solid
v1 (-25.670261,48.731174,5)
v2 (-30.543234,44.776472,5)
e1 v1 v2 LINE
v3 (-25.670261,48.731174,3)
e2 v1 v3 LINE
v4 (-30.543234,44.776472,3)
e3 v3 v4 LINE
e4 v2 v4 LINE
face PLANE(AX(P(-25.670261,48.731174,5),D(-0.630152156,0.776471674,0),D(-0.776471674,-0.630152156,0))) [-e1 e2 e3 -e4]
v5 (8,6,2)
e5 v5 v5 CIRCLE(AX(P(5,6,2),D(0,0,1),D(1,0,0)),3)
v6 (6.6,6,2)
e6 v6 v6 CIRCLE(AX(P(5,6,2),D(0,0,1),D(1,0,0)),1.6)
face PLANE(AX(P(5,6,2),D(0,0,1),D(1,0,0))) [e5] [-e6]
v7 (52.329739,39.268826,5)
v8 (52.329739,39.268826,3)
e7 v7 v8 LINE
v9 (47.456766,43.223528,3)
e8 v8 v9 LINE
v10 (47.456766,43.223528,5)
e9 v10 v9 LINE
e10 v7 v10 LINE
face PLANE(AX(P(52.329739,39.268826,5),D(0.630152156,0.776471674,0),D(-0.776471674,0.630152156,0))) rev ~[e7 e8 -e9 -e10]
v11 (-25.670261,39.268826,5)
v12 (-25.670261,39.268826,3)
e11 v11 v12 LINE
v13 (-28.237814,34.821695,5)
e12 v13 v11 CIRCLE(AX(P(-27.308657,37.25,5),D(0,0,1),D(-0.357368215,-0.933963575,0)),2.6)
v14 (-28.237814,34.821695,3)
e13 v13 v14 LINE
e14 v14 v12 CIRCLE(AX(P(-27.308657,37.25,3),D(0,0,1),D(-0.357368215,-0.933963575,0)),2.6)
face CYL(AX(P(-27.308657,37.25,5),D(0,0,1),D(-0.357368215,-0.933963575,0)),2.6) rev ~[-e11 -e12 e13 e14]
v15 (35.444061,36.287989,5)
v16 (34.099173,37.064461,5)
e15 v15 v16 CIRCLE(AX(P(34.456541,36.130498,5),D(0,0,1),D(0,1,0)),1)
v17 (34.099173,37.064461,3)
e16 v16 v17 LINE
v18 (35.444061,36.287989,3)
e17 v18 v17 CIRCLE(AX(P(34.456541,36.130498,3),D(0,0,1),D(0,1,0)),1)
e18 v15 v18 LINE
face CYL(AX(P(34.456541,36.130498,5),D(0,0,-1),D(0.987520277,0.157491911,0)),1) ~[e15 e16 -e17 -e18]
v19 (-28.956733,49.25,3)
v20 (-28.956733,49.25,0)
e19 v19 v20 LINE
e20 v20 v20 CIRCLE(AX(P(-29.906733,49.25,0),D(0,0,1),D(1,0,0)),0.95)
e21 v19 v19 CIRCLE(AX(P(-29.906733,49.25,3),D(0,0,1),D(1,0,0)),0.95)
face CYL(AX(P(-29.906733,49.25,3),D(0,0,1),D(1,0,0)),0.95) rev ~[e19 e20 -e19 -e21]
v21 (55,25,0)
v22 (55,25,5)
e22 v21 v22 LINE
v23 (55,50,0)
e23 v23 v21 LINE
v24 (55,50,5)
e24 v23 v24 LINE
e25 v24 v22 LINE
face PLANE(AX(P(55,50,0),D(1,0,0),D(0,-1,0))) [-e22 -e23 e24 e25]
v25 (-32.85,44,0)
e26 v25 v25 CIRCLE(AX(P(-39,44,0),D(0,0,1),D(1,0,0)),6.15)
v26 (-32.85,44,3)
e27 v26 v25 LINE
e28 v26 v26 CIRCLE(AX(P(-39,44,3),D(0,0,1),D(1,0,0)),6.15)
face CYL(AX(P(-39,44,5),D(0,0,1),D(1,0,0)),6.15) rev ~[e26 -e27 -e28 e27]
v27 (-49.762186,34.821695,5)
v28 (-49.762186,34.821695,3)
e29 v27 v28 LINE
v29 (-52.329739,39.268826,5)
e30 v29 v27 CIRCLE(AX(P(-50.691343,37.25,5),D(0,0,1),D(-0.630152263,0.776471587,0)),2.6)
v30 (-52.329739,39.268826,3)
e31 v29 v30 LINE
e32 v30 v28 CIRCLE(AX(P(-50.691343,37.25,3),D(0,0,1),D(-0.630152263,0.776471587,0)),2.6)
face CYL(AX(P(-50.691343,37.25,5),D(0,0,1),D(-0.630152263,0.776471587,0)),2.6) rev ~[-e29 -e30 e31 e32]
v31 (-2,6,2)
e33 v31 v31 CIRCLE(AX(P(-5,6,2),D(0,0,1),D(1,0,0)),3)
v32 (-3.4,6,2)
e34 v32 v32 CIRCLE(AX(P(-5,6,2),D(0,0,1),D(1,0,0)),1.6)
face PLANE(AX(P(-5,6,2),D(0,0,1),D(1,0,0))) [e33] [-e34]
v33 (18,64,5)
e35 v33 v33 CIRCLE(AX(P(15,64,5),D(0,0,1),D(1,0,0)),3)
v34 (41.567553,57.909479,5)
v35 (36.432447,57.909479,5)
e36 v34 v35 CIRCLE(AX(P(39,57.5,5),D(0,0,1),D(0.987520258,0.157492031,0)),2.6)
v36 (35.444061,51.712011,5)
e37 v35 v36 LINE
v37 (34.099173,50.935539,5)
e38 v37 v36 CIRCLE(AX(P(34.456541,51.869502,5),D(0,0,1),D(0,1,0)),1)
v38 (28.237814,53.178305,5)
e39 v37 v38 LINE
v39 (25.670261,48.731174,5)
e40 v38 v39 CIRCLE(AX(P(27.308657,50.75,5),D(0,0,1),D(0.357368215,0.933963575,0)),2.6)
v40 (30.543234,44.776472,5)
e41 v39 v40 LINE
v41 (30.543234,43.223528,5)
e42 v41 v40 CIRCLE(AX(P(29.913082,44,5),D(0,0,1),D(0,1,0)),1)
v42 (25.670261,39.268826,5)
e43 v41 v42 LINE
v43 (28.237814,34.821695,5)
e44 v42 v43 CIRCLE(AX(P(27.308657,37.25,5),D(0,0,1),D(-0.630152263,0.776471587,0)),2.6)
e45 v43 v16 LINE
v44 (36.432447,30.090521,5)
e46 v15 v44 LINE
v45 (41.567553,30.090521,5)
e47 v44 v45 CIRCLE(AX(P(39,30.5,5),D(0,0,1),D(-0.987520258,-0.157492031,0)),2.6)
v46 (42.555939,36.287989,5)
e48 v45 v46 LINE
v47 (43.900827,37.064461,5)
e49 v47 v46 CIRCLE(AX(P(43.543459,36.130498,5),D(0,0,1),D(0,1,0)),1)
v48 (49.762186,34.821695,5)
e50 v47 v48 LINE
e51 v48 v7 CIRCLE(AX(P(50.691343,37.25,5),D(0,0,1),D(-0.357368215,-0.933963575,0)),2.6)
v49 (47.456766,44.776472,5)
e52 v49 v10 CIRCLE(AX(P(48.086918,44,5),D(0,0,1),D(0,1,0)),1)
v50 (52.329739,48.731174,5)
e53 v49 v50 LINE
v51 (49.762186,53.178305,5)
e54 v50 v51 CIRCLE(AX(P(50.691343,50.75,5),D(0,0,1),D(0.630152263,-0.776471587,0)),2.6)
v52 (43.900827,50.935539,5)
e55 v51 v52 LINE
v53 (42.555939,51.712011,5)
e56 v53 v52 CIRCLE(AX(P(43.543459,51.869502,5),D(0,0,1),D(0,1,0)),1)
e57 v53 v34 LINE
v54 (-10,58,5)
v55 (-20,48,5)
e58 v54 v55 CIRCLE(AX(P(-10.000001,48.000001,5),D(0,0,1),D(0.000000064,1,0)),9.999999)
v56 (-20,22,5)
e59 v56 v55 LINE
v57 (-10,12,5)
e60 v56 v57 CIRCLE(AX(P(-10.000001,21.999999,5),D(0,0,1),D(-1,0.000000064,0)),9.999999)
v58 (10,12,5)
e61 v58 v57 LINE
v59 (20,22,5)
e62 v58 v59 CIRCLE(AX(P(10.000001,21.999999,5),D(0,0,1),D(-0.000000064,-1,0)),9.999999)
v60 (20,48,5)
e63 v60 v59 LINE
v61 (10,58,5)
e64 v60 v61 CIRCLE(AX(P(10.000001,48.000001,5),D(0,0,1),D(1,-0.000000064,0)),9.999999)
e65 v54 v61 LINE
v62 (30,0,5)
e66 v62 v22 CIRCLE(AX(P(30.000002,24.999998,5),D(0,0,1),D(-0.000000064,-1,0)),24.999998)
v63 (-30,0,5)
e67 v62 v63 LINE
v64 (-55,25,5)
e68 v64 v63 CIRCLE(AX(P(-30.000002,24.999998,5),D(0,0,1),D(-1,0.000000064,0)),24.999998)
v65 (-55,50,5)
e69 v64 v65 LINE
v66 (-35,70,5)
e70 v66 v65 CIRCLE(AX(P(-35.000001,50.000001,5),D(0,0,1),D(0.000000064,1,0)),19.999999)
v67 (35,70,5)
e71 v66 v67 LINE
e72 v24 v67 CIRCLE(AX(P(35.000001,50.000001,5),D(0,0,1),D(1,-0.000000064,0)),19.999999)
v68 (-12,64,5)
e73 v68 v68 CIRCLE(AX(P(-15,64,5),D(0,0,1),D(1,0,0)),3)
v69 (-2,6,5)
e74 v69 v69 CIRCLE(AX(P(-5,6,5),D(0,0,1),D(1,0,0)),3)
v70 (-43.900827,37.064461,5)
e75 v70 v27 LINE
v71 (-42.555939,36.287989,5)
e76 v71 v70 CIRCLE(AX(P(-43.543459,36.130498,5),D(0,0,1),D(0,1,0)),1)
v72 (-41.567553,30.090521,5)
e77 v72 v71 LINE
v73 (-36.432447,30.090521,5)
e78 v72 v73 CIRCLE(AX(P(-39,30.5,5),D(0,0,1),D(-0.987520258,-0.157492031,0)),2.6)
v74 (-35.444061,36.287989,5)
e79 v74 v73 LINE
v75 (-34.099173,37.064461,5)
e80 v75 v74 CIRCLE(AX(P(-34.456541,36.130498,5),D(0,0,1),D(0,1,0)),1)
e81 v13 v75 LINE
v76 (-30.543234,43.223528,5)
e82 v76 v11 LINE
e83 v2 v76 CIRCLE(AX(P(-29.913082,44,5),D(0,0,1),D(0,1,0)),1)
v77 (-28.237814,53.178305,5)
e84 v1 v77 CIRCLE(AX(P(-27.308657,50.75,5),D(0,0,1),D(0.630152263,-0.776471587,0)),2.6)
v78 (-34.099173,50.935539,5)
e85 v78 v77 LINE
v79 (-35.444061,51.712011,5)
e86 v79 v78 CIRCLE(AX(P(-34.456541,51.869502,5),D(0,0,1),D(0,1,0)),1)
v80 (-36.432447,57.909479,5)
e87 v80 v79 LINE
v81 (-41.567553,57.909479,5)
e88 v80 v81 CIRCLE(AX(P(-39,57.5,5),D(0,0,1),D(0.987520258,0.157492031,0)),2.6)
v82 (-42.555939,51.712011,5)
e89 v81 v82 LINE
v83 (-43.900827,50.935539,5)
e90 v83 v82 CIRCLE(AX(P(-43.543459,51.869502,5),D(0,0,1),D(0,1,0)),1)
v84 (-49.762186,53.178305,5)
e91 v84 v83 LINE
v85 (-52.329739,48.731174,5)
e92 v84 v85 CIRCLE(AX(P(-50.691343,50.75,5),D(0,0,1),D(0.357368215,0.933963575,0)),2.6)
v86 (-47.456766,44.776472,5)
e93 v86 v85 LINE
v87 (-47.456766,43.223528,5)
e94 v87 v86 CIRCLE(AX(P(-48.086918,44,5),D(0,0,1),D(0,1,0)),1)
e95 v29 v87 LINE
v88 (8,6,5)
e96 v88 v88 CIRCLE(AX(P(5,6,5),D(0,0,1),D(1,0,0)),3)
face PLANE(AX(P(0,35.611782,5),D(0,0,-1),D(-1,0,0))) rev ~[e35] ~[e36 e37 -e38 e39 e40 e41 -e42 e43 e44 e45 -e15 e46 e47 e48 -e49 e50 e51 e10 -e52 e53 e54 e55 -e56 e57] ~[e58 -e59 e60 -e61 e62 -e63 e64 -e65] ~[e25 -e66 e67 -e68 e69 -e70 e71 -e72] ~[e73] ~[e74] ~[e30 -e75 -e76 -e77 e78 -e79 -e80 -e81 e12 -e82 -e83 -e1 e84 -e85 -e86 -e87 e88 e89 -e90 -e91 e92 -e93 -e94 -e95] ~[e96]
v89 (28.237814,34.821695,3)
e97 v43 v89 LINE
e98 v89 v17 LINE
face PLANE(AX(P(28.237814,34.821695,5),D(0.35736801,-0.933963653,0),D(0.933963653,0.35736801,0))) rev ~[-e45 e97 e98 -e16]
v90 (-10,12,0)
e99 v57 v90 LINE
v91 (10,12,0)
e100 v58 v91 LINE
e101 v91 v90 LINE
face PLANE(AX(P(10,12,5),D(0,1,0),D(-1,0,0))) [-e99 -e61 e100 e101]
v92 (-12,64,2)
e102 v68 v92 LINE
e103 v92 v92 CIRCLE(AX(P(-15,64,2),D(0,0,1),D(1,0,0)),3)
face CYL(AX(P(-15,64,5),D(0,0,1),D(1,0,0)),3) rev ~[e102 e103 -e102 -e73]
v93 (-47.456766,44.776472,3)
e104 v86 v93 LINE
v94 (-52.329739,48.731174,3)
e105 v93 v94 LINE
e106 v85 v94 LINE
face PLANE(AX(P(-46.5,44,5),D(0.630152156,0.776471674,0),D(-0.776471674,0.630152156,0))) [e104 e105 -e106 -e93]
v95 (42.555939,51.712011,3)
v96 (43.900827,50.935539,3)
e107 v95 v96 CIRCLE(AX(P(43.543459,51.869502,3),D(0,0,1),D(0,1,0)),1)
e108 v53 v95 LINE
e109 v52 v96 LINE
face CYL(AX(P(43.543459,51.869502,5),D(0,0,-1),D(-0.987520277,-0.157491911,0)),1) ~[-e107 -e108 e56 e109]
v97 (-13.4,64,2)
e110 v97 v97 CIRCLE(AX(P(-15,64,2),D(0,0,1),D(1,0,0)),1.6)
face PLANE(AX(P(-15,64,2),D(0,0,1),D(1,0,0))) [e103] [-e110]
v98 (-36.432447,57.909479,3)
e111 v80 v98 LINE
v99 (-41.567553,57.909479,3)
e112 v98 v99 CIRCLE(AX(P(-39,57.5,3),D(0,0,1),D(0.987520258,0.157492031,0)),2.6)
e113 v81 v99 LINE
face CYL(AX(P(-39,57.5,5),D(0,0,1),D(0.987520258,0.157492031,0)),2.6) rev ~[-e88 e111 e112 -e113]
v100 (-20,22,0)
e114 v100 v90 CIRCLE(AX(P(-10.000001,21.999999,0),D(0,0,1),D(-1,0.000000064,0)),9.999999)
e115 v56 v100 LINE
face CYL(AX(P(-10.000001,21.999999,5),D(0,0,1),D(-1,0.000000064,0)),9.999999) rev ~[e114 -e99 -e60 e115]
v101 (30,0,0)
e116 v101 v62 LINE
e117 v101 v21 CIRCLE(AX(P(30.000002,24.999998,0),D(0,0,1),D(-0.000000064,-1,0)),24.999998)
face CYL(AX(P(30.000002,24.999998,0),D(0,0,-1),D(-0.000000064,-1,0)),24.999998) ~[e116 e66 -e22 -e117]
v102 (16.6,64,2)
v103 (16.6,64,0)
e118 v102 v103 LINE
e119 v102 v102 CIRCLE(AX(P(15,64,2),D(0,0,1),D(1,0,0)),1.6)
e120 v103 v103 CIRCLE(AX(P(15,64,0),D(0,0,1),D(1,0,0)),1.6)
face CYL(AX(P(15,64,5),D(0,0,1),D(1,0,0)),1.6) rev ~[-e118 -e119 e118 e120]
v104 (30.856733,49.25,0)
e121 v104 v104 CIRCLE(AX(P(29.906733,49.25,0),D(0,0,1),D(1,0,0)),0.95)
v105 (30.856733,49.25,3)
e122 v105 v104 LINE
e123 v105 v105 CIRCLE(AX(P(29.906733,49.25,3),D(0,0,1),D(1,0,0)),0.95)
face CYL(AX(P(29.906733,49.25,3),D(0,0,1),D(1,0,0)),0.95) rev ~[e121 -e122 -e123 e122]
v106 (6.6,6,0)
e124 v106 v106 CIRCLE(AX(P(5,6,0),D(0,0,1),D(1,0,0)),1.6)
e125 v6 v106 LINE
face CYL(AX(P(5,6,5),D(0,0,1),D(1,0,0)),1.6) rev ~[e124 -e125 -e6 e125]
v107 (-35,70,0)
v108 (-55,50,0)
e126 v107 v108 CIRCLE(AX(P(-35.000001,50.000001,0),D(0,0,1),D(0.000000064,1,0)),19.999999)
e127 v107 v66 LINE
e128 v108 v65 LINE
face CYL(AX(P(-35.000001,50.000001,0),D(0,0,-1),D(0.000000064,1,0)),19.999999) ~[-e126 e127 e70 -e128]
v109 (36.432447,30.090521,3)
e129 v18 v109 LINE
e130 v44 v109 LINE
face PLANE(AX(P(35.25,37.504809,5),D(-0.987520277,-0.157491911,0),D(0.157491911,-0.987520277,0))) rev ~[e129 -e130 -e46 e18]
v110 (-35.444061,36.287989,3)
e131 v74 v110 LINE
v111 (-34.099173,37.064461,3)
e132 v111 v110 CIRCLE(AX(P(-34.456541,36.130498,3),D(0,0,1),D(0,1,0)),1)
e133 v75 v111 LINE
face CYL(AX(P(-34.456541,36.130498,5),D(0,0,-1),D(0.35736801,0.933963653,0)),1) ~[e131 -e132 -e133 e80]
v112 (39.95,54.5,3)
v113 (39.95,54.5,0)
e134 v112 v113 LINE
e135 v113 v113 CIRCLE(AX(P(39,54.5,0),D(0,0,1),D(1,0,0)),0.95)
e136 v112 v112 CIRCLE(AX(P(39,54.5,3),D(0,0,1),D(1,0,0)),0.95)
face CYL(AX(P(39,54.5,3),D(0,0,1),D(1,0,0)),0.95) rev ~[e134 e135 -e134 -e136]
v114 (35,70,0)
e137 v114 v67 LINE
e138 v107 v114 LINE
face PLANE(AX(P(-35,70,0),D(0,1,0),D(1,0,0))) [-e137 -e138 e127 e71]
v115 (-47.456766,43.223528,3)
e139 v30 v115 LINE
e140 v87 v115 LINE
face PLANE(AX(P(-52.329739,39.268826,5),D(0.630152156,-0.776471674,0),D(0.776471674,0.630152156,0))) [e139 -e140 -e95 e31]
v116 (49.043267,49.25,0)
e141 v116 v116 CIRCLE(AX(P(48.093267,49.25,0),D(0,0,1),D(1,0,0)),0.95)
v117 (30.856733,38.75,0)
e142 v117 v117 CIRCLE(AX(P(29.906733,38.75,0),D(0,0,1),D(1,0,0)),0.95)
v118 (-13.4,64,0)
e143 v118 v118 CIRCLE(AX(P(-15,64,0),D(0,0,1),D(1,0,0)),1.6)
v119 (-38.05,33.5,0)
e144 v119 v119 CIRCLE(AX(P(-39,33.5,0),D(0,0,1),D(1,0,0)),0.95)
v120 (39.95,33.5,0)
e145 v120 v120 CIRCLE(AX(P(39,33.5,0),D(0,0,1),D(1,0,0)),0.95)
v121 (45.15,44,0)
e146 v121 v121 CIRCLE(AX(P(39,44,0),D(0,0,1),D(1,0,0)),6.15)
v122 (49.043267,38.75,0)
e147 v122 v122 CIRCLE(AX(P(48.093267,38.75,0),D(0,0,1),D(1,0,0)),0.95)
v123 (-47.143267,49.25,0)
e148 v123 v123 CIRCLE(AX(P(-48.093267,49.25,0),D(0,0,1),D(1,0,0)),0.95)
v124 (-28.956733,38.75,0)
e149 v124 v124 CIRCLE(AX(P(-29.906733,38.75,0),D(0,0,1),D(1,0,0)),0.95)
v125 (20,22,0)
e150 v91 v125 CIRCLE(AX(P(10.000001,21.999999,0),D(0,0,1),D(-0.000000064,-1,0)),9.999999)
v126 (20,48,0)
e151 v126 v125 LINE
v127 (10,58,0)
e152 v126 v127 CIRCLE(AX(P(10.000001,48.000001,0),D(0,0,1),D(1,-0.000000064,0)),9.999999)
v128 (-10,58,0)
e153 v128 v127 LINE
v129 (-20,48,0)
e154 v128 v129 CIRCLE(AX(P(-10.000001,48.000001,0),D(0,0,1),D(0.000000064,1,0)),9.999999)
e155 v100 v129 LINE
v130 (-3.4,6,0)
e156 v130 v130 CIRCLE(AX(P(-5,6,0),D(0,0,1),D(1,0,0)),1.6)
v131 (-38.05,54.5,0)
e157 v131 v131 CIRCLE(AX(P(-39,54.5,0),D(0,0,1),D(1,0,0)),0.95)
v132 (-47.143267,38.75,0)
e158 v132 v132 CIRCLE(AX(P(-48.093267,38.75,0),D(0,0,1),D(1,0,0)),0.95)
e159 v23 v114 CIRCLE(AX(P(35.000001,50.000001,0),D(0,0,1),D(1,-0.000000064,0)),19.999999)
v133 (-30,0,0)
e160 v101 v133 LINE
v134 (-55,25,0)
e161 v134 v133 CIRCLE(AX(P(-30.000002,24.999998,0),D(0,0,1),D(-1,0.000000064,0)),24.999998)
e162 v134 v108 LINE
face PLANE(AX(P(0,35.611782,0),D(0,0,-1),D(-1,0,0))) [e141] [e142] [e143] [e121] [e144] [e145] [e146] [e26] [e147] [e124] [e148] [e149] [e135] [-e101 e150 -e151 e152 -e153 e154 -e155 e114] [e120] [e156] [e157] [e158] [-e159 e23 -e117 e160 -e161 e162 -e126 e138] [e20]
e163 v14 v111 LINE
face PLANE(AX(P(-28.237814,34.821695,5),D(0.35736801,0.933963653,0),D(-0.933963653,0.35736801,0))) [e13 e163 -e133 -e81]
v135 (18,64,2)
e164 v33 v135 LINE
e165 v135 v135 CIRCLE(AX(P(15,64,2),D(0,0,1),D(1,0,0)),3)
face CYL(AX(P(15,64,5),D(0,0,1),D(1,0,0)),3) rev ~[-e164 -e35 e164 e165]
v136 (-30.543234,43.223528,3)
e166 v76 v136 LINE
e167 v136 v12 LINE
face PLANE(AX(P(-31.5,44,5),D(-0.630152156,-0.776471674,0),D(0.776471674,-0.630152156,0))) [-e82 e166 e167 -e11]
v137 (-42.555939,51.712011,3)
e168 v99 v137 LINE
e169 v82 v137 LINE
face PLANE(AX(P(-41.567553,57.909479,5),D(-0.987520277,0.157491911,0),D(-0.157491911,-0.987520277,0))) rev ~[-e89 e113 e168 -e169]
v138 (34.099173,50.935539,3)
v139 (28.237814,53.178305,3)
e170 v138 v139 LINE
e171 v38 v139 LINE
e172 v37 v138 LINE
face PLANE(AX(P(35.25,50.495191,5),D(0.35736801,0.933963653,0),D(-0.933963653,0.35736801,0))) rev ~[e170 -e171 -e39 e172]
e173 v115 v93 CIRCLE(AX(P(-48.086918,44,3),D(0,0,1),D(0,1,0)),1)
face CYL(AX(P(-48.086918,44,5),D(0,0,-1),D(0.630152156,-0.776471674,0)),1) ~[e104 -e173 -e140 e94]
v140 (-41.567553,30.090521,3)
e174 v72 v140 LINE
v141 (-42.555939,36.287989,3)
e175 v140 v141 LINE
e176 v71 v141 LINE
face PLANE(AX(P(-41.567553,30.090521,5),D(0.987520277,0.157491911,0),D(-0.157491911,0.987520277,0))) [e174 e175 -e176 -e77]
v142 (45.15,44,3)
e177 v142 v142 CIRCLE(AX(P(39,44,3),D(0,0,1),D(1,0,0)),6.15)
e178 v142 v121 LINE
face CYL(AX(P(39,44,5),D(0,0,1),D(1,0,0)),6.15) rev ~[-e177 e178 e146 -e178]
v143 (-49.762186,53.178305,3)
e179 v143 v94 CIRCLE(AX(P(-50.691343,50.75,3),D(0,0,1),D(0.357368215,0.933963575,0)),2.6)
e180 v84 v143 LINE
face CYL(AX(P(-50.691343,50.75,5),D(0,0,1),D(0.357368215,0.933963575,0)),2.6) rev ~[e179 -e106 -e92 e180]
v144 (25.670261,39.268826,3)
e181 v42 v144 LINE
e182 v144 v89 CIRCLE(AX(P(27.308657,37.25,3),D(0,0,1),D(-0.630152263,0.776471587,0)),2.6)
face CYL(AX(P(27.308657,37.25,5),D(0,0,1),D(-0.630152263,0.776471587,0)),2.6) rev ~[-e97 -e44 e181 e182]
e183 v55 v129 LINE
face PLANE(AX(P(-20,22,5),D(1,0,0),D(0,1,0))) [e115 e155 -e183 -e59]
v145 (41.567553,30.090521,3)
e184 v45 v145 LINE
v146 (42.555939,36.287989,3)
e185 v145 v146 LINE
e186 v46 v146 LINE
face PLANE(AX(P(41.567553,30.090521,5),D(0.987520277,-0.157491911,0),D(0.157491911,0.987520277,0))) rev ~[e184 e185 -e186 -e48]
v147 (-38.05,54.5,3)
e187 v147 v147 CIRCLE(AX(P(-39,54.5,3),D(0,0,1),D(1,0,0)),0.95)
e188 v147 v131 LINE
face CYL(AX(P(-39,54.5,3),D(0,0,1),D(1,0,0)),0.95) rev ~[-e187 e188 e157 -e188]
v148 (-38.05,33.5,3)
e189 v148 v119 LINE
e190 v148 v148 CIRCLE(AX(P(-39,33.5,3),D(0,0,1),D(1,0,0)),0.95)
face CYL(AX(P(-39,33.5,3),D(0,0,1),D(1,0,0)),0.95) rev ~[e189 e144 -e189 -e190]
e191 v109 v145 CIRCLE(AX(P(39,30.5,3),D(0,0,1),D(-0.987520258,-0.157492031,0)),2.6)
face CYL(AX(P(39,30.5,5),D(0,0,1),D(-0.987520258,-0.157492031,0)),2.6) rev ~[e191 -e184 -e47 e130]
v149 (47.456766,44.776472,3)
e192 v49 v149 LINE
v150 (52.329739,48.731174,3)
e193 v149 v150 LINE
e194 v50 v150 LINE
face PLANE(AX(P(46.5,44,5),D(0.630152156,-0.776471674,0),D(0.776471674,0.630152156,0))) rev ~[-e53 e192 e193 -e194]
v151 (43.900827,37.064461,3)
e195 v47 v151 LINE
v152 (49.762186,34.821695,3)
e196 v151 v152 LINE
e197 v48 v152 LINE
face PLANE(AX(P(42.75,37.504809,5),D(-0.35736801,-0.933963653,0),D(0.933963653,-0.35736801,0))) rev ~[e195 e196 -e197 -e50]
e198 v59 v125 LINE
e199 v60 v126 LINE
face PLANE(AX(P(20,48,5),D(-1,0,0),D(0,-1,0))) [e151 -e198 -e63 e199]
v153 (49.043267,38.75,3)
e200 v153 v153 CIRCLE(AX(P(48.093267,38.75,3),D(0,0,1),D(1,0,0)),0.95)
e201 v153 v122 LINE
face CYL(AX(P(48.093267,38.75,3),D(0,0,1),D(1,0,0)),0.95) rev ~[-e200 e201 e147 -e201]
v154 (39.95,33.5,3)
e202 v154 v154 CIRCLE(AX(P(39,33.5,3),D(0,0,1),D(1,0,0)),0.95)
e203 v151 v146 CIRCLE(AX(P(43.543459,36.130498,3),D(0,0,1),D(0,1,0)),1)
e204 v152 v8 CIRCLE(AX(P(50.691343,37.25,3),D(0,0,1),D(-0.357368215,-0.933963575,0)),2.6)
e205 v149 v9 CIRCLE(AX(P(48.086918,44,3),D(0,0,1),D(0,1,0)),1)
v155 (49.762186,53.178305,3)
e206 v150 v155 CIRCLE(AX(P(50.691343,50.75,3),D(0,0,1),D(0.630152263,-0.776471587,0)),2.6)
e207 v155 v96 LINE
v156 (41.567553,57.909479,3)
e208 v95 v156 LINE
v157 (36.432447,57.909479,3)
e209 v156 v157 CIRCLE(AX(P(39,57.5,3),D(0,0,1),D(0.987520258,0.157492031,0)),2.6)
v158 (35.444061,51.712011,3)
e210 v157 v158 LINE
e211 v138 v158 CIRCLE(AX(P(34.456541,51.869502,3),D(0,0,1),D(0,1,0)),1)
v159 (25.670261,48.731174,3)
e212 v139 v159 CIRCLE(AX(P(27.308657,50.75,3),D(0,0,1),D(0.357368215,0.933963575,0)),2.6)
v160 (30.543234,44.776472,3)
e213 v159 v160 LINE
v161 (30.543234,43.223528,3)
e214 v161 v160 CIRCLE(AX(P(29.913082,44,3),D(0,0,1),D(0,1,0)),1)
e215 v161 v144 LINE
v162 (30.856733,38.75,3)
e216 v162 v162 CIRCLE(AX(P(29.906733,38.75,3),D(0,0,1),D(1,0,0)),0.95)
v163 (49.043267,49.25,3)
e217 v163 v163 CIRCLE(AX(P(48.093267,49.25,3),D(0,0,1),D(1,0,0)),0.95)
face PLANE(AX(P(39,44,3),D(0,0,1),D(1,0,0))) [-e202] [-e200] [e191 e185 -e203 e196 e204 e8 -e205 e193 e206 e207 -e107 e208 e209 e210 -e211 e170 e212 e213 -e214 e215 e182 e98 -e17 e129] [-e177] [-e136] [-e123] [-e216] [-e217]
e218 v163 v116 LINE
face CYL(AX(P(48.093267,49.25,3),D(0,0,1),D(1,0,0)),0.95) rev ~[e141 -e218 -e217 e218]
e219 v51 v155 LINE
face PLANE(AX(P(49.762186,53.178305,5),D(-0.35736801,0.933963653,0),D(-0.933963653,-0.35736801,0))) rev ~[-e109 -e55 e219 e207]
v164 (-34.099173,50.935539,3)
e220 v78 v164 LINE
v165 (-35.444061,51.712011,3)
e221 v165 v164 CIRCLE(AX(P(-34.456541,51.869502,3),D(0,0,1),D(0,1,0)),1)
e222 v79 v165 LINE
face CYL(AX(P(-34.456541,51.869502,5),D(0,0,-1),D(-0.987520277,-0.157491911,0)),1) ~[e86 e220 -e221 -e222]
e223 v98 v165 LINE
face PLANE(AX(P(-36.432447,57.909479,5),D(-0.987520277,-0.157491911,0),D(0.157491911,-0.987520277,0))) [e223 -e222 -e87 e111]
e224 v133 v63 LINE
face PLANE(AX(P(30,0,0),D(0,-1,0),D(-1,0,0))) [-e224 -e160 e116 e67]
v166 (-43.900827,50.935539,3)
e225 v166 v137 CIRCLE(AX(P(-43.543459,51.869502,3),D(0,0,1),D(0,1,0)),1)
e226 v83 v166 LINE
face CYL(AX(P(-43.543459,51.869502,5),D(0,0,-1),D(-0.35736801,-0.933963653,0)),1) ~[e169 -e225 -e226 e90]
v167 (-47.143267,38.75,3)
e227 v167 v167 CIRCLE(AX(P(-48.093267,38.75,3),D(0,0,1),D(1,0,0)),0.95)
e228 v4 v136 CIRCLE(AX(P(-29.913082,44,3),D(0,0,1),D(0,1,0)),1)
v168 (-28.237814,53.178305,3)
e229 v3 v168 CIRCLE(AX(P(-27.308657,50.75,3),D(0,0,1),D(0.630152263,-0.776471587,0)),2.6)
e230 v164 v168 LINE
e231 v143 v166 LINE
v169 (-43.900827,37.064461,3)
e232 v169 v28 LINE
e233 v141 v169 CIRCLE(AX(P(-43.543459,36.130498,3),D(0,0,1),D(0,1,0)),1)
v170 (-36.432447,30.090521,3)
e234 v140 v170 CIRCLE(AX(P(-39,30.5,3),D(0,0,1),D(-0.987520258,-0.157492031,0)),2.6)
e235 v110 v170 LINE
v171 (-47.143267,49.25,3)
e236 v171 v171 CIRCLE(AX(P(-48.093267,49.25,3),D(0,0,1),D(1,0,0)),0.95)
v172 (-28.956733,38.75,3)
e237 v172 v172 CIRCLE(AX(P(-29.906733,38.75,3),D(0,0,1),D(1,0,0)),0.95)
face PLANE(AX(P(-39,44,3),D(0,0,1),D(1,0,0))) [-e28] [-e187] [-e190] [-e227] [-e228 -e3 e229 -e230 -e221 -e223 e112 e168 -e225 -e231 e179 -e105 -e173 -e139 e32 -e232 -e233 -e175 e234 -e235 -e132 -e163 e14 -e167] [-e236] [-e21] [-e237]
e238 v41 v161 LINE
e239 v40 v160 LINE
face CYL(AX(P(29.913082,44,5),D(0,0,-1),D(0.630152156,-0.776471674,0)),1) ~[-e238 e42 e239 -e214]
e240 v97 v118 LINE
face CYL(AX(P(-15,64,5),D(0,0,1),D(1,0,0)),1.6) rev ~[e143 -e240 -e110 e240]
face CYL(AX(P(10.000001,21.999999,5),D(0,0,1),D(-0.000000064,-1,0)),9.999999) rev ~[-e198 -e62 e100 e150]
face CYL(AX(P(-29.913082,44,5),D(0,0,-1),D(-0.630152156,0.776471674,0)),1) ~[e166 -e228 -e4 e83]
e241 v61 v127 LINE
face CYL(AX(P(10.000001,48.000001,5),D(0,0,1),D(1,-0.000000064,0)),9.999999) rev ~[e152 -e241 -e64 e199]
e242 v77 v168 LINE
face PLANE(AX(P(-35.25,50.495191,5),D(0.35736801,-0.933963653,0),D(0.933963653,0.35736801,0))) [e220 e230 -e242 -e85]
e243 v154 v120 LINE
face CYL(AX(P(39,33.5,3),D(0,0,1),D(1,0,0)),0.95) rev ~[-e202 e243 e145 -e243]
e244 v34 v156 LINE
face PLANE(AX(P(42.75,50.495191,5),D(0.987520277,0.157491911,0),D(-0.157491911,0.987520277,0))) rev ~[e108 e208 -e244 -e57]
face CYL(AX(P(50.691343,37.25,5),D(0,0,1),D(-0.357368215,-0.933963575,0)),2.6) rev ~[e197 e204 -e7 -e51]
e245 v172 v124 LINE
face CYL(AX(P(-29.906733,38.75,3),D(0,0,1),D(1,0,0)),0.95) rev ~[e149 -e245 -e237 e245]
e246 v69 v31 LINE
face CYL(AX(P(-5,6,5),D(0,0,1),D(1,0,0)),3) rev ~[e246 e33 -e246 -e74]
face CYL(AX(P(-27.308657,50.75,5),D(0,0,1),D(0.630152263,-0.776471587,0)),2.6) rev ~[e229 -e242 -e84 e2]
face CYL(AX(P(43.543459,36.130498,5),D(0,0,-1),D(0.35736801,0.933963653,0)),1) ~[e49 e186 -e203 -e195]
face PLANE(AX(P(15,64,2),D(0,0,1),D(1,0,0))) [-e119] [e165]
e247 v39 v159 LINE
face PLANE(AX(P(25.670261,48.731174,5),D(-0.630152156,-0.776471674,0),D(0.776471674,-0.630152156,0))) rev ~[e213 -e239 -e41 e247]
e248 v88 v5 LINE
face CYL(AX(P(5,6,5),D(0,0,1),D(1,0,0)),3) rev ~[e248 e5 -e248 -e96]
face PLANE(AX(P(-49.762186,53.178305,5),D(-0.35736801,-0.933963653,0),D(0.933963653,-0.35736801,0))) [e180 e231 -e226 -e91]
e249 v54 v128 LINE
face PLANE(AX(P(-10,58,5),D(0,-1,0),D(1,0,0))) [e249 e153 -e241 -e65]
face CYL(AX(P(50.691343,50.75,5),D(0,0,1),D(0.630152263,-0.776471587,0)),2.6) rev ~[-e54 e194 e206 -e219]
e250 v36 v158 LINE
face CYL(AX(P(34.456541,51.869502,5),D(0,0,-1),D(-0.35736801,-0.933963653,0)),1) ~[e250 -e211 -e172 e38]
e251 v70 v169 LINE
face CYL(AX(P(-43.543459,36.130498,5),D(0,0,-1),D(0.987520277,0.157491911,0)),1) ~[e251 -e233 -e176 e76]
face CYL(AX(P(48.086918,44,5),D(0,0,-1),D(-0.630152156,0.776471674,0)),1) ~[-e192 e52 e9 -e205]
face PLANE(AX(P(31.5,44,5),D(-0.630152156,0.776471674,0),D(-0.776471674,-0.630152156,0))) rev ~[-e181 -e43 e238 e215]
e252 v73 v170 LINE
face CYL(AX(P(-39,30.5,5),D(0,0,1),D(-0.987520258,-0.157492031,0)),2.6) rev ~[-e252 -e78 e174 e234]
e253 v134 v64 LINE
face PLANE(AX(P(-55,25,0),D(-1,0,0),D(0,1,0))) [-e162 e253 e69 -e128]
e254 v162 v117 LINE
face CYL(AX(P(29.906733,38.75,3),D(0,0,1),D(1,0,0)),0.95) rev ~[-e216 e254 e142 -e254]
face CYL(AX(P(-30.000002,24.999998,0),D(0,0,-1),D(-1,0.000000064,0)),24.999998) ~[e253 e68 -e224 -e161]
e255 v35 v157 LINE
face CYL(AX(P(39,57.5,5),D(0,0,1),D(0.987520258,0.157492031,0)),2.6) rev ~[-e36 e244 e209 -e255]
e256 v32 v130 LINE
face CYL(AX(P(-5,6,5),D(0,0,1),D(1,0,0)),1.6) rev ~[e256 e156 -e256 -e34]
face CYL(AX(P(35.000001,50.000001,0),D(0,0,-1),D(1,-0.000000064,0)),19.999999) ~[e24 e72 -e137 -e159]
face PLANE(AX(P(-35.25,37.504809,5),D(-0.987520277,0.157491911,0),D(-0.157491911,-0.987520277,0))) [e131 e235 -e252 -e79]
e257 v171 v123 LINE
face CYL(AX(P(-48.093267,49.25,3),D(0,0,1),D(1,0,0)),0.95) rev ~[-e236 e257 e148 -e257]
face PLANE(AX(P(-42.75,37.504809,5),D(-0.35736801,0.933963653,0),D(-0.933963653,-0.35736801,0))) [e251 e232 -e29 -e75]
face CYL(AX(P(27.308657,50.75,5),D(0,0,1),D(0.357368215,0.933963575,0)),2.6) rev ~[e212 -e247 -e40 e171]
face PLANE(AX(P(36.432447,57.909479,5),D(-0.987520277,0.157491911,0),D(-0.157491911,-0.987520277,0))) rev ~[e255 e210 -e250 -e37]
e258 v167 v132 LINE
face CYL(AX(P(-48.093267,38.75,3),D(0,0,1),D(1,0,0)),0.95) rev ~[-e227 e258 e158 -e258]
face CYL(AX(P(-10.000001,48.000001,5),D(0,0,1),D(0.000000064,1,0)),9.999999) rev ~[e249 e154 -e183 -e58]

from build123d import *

# Parameters (mm, degrees)
PAD_DEPTH       = 5
POCKET_DEPTH    = 5
SKETCH002_R     = 1.6
POCKET001_DEPTH = 5
SKETCH003_R     = 3
POCKET002_DEPTH = 3
SKETCH004_R     = 6.15
POCKET003_DEPTH = 5
POCKET004_DEPTH = 2
SKETCH006_R     = 0.95
POCKET005_DEPTH = 3
FILLET_R        = 1


with BuildPart() as part:
    # Sketch → Pad (new body)
    with BuildSketch(Plane.XY):
        with BuildLine():
            Line((-35, 70), (35, 70))
            ThreePointArc((55, 50), (49.142136, 64.142136), (35, 70))
            Line((55, 50), (55, 25))
            ThreePointArc((30, 0), (47.67767, 7.32233), (55, 25))
            Line((30, 0), (-30, 0))
            ThreePointArc((-55, 25), (-47.67767, 7.32233), (-30, 0))
            Line((-55, 25), (-55, 50))
            ThreePointArc((-35, 70), (-49.142136, 64.142136), (-55, 50))
        make_face()
    extrude(amount=PAD_DEPTH)

    # Sketch001 (on Face10 of Pad) → Pocket (cut)
    with BuildSketch(Plane.XY.offset(5)):
        with BuildLine():
            Line((-10, 58), (10, 58))
            ThreePointArc((20, 48), (17.071068, 55.071068), (10, 58))
            Line((20, 48), (20, 22))
            ThreePointArc((10, 12), (17.071068, 14.928932), (20, 22))
            Line((10, 12), (-10, 12))
            ThreePointArc((-20, 22), (-17.071068, 14.928932), (-10, 12))
            Line((-20, 22), (-20, 48))
            ThreePointArc((-10, 58), (-17.071068, 55.071068), (-20, 48))
        make_face()
    extrude(amount=-POCKET_DEPTH, mode=Mode.SUBTRACT)

    # Sketch002 (on Face5 of Pocket) → Pocket001 (cut)
    with BuildSketch(Plane.XY.offset(5)):
        with Locations((-5, 6)):
            Circle(SKETCH002_R)
        with Locations((5, 6)):
            Circle(SKETCH002_R)
        with Locations((15, 64)):
            Circle(SKETCH002_R)
        with Locations((-15, 64)):
            Circle(SKETCH002_R)
    extrude(amount=-POCKET001_DEPTH, mode=Mode.SUBTRACT)

    # Sketch003 (on Face5 of Pocket001) → Pocket002 (cut)
    with BuildSketch(Plane.XY.offset(5)):
        with Locations((-15, 64)):
            Circle(SKETCH003_R)
        with Locations((15, 64)):
            Circle(SKETCH003_R)
        with Locations((-5, 6)):
            Circle(SKETCH003_R)
        with Locations((5, 6)):
            Circle(SKETCH003_R)
    extrude(amount=-POCKET002_DEPTH, mode=Mode.SUBTRACT)

    # Sketch004 (on Face5 of Pocket002) → Pocket003 (cut)
    with BuildSketch(Plane.XY.offset(5)):
        with Locations((-39, 44)):
            Circle(SKETCH004_R)
        with Locations((39, 44)):
            Circle(SKETCH004_R)
    extrude(amount=-POCKET003_DEPTH, mode=Mode.SUBTRACT)

    # Sketch005 (on Face5 of Pocket003) → Pocket004 (cut)
    with BuildSketch(Plane.XY.offset(5)):
        with BuildLine():
            ThreePointArc((-36.432447, 57.909479), (-39, 60.1), (-41.567553, 57.909479))
            Line((-41.567553, 57.909479), (-42.75, 50.495191))
            Line((-49.762186, 53.178305), (-42.75, 50.495191))
            ThreePointArc((-49.762186, 53.178305), (-52.943009, 52.05), (-52.329739, 48.731174))
            Line((-46.5, 44), (-52.329739, 48.731174))
            Line((-52.329739, 39.268826), (-46.5, 44))
            ThreePointArc((-52.329739, 39.268826), (-52.943009, 35.95), (-49.762186, 34.821695))
            Line((-42.75, 37.504809), (-49.762186, 34.821695))
            Line((-41.567553, 30.090521), (-42.75, 37.504809))
            ThreePointArc((-41.567553, 30.090521), (-39, 27.9), (-36.432447, 30.090521))
            Line((-35.25, 37.504809), (-36.432447, 30.090521))
            Line((-28.237814, 34.821695), (-35.25, 37.504809))
            ThreePointArc((-28.237814, 34.821695), (-25.056991, 35.95), (-25.670261, 39.268826))
            Line((-31.5, 44), (-25.670261, 39.268826))
            Line((-25.670261, 48.731174), (-31.5, 44))
            ThreePointArc((-25.670261, 48.731174), (-25.056991, 52.05), (-28.237814, 53.178305))
            Line((-35.25, 50.495191), (-28.237814, 53.178305))
            Line((-36.432447, 57.909479), (-35.25, 50.495191))
        make_face()
        with BuildLine():
            ThreePointArc((41.567553, 57.909479), (39, 60.1), (36.432447, 57.909479))
            Line((36.432447, 57.909479), (35.25, 50.495191))
            Line((35.25, 50.495191), (28.237814, 53.178305))
            ThreePointArc((28.237814, 53.178305), (25.056991, 52.05), (25.670261, 48.731174))
            Line((25.670261, 48.731174), (31.5, 44))
            Line((31.5, 44), (25.670261, 39.268826))
            ThreePointArc((25.670261, 39.268826), (25.056991, 35.95), (28.237814, 34.821695))
            Line((28.237814, 34.821695), (35.25, 37.504809))
            Line((35.25, 37.504809), (36.432447, 30.090521))
            ThreePointArc((36.432447, 30.090521), (39, 27.9), (41.567553, 30.090521))
            Line((41.567553, 30.090521), (42.75, 37.504809))
            Line((42.75, 37.504809), (49.762186, 34.821695))
            ThreePointArc((49.762186, 34.821695), (52.943009, 35.95), (52.329739, 39.268826))
            Line((52.329739, 39.268826), (46.5, 44))
            Line((46.5, 44), (52.329739, 48.731174))
            ThreePointArc((52.329739, 48.731174), (52.943009, 52.05), (49.762186, 53.178305))
            Line((49.762186, 53.178305), (42.75, 50.495191))
            Line((42.75, 50.495191), (41.567553, 57.909479))
        make_face()
    extrude(amount=-POCKET004_DEPTH, mode=Mode.SUBTRACT)

    # Sketch006 (on Face68 of Pocket004) → Pocket005 (cut)
    with BuildSketch(Plane.XY.offset(3)):
        with Locations((-39, 54.5)):
            Circle(SKETCH006_R)
        with Locations((-29.906733, 49.25)):
            Circle(SKETCH006_R)
        with Locations((-29.906733, 38.75)):
            Circle(SKETCH006_R)
        with Locations((-39, 33.5)):
            Circle(SKETCH006_R)
        with Locations((-48.093267, 38.75)):
            Circle(SKETCH006_R)
        with Locations((-48.093267, 49.25)):
            Circle(SKETCH006_R)
        with Locations((29.906733, 49.25)):
            Circle(SKETCH006_R)
        with Locations((39, 54.5)):
            Circle(SKETCH006_R)
        with Locations((48.093267, 49.25)):
            Circle(SKETCH006_R)
        with Locations((48.093267, 38.75)):
            Circle(SKETCH006_R)
        with Locations((39, 33.5)):
            Circle(SKETCH006_R)
        with Locations((29.906733, 38.75)):
            Circle(SKETCH006_R)
    extrude(amount=-POCKET005_DEPTH, mode=Mode.SUBTRACT)

    # Fillet
    fillet_edges = [part.edges().sort_by_distance(p)[0] for p in [
        (-42.75, 50.495191, 4),
        (-35.25, 50.495191, 4),
        (-31.5, 44, 4),
        (-46.5, 44, 4),
        (35.25, 50.495191, 4),
        (42.75, 50.495191, 4),
        (31.5, 44, 4),
        (46.5, 44, 4),
        (-42.75, 37.504809, 4),
        (-35.25, 37.504809, 4),
        (35.25, 37.504809, 4),
        (42.75, 37.504809, 4),
    ]]
    fillet(fillet_edges, radius=FILLET_R)


solid = part.part
